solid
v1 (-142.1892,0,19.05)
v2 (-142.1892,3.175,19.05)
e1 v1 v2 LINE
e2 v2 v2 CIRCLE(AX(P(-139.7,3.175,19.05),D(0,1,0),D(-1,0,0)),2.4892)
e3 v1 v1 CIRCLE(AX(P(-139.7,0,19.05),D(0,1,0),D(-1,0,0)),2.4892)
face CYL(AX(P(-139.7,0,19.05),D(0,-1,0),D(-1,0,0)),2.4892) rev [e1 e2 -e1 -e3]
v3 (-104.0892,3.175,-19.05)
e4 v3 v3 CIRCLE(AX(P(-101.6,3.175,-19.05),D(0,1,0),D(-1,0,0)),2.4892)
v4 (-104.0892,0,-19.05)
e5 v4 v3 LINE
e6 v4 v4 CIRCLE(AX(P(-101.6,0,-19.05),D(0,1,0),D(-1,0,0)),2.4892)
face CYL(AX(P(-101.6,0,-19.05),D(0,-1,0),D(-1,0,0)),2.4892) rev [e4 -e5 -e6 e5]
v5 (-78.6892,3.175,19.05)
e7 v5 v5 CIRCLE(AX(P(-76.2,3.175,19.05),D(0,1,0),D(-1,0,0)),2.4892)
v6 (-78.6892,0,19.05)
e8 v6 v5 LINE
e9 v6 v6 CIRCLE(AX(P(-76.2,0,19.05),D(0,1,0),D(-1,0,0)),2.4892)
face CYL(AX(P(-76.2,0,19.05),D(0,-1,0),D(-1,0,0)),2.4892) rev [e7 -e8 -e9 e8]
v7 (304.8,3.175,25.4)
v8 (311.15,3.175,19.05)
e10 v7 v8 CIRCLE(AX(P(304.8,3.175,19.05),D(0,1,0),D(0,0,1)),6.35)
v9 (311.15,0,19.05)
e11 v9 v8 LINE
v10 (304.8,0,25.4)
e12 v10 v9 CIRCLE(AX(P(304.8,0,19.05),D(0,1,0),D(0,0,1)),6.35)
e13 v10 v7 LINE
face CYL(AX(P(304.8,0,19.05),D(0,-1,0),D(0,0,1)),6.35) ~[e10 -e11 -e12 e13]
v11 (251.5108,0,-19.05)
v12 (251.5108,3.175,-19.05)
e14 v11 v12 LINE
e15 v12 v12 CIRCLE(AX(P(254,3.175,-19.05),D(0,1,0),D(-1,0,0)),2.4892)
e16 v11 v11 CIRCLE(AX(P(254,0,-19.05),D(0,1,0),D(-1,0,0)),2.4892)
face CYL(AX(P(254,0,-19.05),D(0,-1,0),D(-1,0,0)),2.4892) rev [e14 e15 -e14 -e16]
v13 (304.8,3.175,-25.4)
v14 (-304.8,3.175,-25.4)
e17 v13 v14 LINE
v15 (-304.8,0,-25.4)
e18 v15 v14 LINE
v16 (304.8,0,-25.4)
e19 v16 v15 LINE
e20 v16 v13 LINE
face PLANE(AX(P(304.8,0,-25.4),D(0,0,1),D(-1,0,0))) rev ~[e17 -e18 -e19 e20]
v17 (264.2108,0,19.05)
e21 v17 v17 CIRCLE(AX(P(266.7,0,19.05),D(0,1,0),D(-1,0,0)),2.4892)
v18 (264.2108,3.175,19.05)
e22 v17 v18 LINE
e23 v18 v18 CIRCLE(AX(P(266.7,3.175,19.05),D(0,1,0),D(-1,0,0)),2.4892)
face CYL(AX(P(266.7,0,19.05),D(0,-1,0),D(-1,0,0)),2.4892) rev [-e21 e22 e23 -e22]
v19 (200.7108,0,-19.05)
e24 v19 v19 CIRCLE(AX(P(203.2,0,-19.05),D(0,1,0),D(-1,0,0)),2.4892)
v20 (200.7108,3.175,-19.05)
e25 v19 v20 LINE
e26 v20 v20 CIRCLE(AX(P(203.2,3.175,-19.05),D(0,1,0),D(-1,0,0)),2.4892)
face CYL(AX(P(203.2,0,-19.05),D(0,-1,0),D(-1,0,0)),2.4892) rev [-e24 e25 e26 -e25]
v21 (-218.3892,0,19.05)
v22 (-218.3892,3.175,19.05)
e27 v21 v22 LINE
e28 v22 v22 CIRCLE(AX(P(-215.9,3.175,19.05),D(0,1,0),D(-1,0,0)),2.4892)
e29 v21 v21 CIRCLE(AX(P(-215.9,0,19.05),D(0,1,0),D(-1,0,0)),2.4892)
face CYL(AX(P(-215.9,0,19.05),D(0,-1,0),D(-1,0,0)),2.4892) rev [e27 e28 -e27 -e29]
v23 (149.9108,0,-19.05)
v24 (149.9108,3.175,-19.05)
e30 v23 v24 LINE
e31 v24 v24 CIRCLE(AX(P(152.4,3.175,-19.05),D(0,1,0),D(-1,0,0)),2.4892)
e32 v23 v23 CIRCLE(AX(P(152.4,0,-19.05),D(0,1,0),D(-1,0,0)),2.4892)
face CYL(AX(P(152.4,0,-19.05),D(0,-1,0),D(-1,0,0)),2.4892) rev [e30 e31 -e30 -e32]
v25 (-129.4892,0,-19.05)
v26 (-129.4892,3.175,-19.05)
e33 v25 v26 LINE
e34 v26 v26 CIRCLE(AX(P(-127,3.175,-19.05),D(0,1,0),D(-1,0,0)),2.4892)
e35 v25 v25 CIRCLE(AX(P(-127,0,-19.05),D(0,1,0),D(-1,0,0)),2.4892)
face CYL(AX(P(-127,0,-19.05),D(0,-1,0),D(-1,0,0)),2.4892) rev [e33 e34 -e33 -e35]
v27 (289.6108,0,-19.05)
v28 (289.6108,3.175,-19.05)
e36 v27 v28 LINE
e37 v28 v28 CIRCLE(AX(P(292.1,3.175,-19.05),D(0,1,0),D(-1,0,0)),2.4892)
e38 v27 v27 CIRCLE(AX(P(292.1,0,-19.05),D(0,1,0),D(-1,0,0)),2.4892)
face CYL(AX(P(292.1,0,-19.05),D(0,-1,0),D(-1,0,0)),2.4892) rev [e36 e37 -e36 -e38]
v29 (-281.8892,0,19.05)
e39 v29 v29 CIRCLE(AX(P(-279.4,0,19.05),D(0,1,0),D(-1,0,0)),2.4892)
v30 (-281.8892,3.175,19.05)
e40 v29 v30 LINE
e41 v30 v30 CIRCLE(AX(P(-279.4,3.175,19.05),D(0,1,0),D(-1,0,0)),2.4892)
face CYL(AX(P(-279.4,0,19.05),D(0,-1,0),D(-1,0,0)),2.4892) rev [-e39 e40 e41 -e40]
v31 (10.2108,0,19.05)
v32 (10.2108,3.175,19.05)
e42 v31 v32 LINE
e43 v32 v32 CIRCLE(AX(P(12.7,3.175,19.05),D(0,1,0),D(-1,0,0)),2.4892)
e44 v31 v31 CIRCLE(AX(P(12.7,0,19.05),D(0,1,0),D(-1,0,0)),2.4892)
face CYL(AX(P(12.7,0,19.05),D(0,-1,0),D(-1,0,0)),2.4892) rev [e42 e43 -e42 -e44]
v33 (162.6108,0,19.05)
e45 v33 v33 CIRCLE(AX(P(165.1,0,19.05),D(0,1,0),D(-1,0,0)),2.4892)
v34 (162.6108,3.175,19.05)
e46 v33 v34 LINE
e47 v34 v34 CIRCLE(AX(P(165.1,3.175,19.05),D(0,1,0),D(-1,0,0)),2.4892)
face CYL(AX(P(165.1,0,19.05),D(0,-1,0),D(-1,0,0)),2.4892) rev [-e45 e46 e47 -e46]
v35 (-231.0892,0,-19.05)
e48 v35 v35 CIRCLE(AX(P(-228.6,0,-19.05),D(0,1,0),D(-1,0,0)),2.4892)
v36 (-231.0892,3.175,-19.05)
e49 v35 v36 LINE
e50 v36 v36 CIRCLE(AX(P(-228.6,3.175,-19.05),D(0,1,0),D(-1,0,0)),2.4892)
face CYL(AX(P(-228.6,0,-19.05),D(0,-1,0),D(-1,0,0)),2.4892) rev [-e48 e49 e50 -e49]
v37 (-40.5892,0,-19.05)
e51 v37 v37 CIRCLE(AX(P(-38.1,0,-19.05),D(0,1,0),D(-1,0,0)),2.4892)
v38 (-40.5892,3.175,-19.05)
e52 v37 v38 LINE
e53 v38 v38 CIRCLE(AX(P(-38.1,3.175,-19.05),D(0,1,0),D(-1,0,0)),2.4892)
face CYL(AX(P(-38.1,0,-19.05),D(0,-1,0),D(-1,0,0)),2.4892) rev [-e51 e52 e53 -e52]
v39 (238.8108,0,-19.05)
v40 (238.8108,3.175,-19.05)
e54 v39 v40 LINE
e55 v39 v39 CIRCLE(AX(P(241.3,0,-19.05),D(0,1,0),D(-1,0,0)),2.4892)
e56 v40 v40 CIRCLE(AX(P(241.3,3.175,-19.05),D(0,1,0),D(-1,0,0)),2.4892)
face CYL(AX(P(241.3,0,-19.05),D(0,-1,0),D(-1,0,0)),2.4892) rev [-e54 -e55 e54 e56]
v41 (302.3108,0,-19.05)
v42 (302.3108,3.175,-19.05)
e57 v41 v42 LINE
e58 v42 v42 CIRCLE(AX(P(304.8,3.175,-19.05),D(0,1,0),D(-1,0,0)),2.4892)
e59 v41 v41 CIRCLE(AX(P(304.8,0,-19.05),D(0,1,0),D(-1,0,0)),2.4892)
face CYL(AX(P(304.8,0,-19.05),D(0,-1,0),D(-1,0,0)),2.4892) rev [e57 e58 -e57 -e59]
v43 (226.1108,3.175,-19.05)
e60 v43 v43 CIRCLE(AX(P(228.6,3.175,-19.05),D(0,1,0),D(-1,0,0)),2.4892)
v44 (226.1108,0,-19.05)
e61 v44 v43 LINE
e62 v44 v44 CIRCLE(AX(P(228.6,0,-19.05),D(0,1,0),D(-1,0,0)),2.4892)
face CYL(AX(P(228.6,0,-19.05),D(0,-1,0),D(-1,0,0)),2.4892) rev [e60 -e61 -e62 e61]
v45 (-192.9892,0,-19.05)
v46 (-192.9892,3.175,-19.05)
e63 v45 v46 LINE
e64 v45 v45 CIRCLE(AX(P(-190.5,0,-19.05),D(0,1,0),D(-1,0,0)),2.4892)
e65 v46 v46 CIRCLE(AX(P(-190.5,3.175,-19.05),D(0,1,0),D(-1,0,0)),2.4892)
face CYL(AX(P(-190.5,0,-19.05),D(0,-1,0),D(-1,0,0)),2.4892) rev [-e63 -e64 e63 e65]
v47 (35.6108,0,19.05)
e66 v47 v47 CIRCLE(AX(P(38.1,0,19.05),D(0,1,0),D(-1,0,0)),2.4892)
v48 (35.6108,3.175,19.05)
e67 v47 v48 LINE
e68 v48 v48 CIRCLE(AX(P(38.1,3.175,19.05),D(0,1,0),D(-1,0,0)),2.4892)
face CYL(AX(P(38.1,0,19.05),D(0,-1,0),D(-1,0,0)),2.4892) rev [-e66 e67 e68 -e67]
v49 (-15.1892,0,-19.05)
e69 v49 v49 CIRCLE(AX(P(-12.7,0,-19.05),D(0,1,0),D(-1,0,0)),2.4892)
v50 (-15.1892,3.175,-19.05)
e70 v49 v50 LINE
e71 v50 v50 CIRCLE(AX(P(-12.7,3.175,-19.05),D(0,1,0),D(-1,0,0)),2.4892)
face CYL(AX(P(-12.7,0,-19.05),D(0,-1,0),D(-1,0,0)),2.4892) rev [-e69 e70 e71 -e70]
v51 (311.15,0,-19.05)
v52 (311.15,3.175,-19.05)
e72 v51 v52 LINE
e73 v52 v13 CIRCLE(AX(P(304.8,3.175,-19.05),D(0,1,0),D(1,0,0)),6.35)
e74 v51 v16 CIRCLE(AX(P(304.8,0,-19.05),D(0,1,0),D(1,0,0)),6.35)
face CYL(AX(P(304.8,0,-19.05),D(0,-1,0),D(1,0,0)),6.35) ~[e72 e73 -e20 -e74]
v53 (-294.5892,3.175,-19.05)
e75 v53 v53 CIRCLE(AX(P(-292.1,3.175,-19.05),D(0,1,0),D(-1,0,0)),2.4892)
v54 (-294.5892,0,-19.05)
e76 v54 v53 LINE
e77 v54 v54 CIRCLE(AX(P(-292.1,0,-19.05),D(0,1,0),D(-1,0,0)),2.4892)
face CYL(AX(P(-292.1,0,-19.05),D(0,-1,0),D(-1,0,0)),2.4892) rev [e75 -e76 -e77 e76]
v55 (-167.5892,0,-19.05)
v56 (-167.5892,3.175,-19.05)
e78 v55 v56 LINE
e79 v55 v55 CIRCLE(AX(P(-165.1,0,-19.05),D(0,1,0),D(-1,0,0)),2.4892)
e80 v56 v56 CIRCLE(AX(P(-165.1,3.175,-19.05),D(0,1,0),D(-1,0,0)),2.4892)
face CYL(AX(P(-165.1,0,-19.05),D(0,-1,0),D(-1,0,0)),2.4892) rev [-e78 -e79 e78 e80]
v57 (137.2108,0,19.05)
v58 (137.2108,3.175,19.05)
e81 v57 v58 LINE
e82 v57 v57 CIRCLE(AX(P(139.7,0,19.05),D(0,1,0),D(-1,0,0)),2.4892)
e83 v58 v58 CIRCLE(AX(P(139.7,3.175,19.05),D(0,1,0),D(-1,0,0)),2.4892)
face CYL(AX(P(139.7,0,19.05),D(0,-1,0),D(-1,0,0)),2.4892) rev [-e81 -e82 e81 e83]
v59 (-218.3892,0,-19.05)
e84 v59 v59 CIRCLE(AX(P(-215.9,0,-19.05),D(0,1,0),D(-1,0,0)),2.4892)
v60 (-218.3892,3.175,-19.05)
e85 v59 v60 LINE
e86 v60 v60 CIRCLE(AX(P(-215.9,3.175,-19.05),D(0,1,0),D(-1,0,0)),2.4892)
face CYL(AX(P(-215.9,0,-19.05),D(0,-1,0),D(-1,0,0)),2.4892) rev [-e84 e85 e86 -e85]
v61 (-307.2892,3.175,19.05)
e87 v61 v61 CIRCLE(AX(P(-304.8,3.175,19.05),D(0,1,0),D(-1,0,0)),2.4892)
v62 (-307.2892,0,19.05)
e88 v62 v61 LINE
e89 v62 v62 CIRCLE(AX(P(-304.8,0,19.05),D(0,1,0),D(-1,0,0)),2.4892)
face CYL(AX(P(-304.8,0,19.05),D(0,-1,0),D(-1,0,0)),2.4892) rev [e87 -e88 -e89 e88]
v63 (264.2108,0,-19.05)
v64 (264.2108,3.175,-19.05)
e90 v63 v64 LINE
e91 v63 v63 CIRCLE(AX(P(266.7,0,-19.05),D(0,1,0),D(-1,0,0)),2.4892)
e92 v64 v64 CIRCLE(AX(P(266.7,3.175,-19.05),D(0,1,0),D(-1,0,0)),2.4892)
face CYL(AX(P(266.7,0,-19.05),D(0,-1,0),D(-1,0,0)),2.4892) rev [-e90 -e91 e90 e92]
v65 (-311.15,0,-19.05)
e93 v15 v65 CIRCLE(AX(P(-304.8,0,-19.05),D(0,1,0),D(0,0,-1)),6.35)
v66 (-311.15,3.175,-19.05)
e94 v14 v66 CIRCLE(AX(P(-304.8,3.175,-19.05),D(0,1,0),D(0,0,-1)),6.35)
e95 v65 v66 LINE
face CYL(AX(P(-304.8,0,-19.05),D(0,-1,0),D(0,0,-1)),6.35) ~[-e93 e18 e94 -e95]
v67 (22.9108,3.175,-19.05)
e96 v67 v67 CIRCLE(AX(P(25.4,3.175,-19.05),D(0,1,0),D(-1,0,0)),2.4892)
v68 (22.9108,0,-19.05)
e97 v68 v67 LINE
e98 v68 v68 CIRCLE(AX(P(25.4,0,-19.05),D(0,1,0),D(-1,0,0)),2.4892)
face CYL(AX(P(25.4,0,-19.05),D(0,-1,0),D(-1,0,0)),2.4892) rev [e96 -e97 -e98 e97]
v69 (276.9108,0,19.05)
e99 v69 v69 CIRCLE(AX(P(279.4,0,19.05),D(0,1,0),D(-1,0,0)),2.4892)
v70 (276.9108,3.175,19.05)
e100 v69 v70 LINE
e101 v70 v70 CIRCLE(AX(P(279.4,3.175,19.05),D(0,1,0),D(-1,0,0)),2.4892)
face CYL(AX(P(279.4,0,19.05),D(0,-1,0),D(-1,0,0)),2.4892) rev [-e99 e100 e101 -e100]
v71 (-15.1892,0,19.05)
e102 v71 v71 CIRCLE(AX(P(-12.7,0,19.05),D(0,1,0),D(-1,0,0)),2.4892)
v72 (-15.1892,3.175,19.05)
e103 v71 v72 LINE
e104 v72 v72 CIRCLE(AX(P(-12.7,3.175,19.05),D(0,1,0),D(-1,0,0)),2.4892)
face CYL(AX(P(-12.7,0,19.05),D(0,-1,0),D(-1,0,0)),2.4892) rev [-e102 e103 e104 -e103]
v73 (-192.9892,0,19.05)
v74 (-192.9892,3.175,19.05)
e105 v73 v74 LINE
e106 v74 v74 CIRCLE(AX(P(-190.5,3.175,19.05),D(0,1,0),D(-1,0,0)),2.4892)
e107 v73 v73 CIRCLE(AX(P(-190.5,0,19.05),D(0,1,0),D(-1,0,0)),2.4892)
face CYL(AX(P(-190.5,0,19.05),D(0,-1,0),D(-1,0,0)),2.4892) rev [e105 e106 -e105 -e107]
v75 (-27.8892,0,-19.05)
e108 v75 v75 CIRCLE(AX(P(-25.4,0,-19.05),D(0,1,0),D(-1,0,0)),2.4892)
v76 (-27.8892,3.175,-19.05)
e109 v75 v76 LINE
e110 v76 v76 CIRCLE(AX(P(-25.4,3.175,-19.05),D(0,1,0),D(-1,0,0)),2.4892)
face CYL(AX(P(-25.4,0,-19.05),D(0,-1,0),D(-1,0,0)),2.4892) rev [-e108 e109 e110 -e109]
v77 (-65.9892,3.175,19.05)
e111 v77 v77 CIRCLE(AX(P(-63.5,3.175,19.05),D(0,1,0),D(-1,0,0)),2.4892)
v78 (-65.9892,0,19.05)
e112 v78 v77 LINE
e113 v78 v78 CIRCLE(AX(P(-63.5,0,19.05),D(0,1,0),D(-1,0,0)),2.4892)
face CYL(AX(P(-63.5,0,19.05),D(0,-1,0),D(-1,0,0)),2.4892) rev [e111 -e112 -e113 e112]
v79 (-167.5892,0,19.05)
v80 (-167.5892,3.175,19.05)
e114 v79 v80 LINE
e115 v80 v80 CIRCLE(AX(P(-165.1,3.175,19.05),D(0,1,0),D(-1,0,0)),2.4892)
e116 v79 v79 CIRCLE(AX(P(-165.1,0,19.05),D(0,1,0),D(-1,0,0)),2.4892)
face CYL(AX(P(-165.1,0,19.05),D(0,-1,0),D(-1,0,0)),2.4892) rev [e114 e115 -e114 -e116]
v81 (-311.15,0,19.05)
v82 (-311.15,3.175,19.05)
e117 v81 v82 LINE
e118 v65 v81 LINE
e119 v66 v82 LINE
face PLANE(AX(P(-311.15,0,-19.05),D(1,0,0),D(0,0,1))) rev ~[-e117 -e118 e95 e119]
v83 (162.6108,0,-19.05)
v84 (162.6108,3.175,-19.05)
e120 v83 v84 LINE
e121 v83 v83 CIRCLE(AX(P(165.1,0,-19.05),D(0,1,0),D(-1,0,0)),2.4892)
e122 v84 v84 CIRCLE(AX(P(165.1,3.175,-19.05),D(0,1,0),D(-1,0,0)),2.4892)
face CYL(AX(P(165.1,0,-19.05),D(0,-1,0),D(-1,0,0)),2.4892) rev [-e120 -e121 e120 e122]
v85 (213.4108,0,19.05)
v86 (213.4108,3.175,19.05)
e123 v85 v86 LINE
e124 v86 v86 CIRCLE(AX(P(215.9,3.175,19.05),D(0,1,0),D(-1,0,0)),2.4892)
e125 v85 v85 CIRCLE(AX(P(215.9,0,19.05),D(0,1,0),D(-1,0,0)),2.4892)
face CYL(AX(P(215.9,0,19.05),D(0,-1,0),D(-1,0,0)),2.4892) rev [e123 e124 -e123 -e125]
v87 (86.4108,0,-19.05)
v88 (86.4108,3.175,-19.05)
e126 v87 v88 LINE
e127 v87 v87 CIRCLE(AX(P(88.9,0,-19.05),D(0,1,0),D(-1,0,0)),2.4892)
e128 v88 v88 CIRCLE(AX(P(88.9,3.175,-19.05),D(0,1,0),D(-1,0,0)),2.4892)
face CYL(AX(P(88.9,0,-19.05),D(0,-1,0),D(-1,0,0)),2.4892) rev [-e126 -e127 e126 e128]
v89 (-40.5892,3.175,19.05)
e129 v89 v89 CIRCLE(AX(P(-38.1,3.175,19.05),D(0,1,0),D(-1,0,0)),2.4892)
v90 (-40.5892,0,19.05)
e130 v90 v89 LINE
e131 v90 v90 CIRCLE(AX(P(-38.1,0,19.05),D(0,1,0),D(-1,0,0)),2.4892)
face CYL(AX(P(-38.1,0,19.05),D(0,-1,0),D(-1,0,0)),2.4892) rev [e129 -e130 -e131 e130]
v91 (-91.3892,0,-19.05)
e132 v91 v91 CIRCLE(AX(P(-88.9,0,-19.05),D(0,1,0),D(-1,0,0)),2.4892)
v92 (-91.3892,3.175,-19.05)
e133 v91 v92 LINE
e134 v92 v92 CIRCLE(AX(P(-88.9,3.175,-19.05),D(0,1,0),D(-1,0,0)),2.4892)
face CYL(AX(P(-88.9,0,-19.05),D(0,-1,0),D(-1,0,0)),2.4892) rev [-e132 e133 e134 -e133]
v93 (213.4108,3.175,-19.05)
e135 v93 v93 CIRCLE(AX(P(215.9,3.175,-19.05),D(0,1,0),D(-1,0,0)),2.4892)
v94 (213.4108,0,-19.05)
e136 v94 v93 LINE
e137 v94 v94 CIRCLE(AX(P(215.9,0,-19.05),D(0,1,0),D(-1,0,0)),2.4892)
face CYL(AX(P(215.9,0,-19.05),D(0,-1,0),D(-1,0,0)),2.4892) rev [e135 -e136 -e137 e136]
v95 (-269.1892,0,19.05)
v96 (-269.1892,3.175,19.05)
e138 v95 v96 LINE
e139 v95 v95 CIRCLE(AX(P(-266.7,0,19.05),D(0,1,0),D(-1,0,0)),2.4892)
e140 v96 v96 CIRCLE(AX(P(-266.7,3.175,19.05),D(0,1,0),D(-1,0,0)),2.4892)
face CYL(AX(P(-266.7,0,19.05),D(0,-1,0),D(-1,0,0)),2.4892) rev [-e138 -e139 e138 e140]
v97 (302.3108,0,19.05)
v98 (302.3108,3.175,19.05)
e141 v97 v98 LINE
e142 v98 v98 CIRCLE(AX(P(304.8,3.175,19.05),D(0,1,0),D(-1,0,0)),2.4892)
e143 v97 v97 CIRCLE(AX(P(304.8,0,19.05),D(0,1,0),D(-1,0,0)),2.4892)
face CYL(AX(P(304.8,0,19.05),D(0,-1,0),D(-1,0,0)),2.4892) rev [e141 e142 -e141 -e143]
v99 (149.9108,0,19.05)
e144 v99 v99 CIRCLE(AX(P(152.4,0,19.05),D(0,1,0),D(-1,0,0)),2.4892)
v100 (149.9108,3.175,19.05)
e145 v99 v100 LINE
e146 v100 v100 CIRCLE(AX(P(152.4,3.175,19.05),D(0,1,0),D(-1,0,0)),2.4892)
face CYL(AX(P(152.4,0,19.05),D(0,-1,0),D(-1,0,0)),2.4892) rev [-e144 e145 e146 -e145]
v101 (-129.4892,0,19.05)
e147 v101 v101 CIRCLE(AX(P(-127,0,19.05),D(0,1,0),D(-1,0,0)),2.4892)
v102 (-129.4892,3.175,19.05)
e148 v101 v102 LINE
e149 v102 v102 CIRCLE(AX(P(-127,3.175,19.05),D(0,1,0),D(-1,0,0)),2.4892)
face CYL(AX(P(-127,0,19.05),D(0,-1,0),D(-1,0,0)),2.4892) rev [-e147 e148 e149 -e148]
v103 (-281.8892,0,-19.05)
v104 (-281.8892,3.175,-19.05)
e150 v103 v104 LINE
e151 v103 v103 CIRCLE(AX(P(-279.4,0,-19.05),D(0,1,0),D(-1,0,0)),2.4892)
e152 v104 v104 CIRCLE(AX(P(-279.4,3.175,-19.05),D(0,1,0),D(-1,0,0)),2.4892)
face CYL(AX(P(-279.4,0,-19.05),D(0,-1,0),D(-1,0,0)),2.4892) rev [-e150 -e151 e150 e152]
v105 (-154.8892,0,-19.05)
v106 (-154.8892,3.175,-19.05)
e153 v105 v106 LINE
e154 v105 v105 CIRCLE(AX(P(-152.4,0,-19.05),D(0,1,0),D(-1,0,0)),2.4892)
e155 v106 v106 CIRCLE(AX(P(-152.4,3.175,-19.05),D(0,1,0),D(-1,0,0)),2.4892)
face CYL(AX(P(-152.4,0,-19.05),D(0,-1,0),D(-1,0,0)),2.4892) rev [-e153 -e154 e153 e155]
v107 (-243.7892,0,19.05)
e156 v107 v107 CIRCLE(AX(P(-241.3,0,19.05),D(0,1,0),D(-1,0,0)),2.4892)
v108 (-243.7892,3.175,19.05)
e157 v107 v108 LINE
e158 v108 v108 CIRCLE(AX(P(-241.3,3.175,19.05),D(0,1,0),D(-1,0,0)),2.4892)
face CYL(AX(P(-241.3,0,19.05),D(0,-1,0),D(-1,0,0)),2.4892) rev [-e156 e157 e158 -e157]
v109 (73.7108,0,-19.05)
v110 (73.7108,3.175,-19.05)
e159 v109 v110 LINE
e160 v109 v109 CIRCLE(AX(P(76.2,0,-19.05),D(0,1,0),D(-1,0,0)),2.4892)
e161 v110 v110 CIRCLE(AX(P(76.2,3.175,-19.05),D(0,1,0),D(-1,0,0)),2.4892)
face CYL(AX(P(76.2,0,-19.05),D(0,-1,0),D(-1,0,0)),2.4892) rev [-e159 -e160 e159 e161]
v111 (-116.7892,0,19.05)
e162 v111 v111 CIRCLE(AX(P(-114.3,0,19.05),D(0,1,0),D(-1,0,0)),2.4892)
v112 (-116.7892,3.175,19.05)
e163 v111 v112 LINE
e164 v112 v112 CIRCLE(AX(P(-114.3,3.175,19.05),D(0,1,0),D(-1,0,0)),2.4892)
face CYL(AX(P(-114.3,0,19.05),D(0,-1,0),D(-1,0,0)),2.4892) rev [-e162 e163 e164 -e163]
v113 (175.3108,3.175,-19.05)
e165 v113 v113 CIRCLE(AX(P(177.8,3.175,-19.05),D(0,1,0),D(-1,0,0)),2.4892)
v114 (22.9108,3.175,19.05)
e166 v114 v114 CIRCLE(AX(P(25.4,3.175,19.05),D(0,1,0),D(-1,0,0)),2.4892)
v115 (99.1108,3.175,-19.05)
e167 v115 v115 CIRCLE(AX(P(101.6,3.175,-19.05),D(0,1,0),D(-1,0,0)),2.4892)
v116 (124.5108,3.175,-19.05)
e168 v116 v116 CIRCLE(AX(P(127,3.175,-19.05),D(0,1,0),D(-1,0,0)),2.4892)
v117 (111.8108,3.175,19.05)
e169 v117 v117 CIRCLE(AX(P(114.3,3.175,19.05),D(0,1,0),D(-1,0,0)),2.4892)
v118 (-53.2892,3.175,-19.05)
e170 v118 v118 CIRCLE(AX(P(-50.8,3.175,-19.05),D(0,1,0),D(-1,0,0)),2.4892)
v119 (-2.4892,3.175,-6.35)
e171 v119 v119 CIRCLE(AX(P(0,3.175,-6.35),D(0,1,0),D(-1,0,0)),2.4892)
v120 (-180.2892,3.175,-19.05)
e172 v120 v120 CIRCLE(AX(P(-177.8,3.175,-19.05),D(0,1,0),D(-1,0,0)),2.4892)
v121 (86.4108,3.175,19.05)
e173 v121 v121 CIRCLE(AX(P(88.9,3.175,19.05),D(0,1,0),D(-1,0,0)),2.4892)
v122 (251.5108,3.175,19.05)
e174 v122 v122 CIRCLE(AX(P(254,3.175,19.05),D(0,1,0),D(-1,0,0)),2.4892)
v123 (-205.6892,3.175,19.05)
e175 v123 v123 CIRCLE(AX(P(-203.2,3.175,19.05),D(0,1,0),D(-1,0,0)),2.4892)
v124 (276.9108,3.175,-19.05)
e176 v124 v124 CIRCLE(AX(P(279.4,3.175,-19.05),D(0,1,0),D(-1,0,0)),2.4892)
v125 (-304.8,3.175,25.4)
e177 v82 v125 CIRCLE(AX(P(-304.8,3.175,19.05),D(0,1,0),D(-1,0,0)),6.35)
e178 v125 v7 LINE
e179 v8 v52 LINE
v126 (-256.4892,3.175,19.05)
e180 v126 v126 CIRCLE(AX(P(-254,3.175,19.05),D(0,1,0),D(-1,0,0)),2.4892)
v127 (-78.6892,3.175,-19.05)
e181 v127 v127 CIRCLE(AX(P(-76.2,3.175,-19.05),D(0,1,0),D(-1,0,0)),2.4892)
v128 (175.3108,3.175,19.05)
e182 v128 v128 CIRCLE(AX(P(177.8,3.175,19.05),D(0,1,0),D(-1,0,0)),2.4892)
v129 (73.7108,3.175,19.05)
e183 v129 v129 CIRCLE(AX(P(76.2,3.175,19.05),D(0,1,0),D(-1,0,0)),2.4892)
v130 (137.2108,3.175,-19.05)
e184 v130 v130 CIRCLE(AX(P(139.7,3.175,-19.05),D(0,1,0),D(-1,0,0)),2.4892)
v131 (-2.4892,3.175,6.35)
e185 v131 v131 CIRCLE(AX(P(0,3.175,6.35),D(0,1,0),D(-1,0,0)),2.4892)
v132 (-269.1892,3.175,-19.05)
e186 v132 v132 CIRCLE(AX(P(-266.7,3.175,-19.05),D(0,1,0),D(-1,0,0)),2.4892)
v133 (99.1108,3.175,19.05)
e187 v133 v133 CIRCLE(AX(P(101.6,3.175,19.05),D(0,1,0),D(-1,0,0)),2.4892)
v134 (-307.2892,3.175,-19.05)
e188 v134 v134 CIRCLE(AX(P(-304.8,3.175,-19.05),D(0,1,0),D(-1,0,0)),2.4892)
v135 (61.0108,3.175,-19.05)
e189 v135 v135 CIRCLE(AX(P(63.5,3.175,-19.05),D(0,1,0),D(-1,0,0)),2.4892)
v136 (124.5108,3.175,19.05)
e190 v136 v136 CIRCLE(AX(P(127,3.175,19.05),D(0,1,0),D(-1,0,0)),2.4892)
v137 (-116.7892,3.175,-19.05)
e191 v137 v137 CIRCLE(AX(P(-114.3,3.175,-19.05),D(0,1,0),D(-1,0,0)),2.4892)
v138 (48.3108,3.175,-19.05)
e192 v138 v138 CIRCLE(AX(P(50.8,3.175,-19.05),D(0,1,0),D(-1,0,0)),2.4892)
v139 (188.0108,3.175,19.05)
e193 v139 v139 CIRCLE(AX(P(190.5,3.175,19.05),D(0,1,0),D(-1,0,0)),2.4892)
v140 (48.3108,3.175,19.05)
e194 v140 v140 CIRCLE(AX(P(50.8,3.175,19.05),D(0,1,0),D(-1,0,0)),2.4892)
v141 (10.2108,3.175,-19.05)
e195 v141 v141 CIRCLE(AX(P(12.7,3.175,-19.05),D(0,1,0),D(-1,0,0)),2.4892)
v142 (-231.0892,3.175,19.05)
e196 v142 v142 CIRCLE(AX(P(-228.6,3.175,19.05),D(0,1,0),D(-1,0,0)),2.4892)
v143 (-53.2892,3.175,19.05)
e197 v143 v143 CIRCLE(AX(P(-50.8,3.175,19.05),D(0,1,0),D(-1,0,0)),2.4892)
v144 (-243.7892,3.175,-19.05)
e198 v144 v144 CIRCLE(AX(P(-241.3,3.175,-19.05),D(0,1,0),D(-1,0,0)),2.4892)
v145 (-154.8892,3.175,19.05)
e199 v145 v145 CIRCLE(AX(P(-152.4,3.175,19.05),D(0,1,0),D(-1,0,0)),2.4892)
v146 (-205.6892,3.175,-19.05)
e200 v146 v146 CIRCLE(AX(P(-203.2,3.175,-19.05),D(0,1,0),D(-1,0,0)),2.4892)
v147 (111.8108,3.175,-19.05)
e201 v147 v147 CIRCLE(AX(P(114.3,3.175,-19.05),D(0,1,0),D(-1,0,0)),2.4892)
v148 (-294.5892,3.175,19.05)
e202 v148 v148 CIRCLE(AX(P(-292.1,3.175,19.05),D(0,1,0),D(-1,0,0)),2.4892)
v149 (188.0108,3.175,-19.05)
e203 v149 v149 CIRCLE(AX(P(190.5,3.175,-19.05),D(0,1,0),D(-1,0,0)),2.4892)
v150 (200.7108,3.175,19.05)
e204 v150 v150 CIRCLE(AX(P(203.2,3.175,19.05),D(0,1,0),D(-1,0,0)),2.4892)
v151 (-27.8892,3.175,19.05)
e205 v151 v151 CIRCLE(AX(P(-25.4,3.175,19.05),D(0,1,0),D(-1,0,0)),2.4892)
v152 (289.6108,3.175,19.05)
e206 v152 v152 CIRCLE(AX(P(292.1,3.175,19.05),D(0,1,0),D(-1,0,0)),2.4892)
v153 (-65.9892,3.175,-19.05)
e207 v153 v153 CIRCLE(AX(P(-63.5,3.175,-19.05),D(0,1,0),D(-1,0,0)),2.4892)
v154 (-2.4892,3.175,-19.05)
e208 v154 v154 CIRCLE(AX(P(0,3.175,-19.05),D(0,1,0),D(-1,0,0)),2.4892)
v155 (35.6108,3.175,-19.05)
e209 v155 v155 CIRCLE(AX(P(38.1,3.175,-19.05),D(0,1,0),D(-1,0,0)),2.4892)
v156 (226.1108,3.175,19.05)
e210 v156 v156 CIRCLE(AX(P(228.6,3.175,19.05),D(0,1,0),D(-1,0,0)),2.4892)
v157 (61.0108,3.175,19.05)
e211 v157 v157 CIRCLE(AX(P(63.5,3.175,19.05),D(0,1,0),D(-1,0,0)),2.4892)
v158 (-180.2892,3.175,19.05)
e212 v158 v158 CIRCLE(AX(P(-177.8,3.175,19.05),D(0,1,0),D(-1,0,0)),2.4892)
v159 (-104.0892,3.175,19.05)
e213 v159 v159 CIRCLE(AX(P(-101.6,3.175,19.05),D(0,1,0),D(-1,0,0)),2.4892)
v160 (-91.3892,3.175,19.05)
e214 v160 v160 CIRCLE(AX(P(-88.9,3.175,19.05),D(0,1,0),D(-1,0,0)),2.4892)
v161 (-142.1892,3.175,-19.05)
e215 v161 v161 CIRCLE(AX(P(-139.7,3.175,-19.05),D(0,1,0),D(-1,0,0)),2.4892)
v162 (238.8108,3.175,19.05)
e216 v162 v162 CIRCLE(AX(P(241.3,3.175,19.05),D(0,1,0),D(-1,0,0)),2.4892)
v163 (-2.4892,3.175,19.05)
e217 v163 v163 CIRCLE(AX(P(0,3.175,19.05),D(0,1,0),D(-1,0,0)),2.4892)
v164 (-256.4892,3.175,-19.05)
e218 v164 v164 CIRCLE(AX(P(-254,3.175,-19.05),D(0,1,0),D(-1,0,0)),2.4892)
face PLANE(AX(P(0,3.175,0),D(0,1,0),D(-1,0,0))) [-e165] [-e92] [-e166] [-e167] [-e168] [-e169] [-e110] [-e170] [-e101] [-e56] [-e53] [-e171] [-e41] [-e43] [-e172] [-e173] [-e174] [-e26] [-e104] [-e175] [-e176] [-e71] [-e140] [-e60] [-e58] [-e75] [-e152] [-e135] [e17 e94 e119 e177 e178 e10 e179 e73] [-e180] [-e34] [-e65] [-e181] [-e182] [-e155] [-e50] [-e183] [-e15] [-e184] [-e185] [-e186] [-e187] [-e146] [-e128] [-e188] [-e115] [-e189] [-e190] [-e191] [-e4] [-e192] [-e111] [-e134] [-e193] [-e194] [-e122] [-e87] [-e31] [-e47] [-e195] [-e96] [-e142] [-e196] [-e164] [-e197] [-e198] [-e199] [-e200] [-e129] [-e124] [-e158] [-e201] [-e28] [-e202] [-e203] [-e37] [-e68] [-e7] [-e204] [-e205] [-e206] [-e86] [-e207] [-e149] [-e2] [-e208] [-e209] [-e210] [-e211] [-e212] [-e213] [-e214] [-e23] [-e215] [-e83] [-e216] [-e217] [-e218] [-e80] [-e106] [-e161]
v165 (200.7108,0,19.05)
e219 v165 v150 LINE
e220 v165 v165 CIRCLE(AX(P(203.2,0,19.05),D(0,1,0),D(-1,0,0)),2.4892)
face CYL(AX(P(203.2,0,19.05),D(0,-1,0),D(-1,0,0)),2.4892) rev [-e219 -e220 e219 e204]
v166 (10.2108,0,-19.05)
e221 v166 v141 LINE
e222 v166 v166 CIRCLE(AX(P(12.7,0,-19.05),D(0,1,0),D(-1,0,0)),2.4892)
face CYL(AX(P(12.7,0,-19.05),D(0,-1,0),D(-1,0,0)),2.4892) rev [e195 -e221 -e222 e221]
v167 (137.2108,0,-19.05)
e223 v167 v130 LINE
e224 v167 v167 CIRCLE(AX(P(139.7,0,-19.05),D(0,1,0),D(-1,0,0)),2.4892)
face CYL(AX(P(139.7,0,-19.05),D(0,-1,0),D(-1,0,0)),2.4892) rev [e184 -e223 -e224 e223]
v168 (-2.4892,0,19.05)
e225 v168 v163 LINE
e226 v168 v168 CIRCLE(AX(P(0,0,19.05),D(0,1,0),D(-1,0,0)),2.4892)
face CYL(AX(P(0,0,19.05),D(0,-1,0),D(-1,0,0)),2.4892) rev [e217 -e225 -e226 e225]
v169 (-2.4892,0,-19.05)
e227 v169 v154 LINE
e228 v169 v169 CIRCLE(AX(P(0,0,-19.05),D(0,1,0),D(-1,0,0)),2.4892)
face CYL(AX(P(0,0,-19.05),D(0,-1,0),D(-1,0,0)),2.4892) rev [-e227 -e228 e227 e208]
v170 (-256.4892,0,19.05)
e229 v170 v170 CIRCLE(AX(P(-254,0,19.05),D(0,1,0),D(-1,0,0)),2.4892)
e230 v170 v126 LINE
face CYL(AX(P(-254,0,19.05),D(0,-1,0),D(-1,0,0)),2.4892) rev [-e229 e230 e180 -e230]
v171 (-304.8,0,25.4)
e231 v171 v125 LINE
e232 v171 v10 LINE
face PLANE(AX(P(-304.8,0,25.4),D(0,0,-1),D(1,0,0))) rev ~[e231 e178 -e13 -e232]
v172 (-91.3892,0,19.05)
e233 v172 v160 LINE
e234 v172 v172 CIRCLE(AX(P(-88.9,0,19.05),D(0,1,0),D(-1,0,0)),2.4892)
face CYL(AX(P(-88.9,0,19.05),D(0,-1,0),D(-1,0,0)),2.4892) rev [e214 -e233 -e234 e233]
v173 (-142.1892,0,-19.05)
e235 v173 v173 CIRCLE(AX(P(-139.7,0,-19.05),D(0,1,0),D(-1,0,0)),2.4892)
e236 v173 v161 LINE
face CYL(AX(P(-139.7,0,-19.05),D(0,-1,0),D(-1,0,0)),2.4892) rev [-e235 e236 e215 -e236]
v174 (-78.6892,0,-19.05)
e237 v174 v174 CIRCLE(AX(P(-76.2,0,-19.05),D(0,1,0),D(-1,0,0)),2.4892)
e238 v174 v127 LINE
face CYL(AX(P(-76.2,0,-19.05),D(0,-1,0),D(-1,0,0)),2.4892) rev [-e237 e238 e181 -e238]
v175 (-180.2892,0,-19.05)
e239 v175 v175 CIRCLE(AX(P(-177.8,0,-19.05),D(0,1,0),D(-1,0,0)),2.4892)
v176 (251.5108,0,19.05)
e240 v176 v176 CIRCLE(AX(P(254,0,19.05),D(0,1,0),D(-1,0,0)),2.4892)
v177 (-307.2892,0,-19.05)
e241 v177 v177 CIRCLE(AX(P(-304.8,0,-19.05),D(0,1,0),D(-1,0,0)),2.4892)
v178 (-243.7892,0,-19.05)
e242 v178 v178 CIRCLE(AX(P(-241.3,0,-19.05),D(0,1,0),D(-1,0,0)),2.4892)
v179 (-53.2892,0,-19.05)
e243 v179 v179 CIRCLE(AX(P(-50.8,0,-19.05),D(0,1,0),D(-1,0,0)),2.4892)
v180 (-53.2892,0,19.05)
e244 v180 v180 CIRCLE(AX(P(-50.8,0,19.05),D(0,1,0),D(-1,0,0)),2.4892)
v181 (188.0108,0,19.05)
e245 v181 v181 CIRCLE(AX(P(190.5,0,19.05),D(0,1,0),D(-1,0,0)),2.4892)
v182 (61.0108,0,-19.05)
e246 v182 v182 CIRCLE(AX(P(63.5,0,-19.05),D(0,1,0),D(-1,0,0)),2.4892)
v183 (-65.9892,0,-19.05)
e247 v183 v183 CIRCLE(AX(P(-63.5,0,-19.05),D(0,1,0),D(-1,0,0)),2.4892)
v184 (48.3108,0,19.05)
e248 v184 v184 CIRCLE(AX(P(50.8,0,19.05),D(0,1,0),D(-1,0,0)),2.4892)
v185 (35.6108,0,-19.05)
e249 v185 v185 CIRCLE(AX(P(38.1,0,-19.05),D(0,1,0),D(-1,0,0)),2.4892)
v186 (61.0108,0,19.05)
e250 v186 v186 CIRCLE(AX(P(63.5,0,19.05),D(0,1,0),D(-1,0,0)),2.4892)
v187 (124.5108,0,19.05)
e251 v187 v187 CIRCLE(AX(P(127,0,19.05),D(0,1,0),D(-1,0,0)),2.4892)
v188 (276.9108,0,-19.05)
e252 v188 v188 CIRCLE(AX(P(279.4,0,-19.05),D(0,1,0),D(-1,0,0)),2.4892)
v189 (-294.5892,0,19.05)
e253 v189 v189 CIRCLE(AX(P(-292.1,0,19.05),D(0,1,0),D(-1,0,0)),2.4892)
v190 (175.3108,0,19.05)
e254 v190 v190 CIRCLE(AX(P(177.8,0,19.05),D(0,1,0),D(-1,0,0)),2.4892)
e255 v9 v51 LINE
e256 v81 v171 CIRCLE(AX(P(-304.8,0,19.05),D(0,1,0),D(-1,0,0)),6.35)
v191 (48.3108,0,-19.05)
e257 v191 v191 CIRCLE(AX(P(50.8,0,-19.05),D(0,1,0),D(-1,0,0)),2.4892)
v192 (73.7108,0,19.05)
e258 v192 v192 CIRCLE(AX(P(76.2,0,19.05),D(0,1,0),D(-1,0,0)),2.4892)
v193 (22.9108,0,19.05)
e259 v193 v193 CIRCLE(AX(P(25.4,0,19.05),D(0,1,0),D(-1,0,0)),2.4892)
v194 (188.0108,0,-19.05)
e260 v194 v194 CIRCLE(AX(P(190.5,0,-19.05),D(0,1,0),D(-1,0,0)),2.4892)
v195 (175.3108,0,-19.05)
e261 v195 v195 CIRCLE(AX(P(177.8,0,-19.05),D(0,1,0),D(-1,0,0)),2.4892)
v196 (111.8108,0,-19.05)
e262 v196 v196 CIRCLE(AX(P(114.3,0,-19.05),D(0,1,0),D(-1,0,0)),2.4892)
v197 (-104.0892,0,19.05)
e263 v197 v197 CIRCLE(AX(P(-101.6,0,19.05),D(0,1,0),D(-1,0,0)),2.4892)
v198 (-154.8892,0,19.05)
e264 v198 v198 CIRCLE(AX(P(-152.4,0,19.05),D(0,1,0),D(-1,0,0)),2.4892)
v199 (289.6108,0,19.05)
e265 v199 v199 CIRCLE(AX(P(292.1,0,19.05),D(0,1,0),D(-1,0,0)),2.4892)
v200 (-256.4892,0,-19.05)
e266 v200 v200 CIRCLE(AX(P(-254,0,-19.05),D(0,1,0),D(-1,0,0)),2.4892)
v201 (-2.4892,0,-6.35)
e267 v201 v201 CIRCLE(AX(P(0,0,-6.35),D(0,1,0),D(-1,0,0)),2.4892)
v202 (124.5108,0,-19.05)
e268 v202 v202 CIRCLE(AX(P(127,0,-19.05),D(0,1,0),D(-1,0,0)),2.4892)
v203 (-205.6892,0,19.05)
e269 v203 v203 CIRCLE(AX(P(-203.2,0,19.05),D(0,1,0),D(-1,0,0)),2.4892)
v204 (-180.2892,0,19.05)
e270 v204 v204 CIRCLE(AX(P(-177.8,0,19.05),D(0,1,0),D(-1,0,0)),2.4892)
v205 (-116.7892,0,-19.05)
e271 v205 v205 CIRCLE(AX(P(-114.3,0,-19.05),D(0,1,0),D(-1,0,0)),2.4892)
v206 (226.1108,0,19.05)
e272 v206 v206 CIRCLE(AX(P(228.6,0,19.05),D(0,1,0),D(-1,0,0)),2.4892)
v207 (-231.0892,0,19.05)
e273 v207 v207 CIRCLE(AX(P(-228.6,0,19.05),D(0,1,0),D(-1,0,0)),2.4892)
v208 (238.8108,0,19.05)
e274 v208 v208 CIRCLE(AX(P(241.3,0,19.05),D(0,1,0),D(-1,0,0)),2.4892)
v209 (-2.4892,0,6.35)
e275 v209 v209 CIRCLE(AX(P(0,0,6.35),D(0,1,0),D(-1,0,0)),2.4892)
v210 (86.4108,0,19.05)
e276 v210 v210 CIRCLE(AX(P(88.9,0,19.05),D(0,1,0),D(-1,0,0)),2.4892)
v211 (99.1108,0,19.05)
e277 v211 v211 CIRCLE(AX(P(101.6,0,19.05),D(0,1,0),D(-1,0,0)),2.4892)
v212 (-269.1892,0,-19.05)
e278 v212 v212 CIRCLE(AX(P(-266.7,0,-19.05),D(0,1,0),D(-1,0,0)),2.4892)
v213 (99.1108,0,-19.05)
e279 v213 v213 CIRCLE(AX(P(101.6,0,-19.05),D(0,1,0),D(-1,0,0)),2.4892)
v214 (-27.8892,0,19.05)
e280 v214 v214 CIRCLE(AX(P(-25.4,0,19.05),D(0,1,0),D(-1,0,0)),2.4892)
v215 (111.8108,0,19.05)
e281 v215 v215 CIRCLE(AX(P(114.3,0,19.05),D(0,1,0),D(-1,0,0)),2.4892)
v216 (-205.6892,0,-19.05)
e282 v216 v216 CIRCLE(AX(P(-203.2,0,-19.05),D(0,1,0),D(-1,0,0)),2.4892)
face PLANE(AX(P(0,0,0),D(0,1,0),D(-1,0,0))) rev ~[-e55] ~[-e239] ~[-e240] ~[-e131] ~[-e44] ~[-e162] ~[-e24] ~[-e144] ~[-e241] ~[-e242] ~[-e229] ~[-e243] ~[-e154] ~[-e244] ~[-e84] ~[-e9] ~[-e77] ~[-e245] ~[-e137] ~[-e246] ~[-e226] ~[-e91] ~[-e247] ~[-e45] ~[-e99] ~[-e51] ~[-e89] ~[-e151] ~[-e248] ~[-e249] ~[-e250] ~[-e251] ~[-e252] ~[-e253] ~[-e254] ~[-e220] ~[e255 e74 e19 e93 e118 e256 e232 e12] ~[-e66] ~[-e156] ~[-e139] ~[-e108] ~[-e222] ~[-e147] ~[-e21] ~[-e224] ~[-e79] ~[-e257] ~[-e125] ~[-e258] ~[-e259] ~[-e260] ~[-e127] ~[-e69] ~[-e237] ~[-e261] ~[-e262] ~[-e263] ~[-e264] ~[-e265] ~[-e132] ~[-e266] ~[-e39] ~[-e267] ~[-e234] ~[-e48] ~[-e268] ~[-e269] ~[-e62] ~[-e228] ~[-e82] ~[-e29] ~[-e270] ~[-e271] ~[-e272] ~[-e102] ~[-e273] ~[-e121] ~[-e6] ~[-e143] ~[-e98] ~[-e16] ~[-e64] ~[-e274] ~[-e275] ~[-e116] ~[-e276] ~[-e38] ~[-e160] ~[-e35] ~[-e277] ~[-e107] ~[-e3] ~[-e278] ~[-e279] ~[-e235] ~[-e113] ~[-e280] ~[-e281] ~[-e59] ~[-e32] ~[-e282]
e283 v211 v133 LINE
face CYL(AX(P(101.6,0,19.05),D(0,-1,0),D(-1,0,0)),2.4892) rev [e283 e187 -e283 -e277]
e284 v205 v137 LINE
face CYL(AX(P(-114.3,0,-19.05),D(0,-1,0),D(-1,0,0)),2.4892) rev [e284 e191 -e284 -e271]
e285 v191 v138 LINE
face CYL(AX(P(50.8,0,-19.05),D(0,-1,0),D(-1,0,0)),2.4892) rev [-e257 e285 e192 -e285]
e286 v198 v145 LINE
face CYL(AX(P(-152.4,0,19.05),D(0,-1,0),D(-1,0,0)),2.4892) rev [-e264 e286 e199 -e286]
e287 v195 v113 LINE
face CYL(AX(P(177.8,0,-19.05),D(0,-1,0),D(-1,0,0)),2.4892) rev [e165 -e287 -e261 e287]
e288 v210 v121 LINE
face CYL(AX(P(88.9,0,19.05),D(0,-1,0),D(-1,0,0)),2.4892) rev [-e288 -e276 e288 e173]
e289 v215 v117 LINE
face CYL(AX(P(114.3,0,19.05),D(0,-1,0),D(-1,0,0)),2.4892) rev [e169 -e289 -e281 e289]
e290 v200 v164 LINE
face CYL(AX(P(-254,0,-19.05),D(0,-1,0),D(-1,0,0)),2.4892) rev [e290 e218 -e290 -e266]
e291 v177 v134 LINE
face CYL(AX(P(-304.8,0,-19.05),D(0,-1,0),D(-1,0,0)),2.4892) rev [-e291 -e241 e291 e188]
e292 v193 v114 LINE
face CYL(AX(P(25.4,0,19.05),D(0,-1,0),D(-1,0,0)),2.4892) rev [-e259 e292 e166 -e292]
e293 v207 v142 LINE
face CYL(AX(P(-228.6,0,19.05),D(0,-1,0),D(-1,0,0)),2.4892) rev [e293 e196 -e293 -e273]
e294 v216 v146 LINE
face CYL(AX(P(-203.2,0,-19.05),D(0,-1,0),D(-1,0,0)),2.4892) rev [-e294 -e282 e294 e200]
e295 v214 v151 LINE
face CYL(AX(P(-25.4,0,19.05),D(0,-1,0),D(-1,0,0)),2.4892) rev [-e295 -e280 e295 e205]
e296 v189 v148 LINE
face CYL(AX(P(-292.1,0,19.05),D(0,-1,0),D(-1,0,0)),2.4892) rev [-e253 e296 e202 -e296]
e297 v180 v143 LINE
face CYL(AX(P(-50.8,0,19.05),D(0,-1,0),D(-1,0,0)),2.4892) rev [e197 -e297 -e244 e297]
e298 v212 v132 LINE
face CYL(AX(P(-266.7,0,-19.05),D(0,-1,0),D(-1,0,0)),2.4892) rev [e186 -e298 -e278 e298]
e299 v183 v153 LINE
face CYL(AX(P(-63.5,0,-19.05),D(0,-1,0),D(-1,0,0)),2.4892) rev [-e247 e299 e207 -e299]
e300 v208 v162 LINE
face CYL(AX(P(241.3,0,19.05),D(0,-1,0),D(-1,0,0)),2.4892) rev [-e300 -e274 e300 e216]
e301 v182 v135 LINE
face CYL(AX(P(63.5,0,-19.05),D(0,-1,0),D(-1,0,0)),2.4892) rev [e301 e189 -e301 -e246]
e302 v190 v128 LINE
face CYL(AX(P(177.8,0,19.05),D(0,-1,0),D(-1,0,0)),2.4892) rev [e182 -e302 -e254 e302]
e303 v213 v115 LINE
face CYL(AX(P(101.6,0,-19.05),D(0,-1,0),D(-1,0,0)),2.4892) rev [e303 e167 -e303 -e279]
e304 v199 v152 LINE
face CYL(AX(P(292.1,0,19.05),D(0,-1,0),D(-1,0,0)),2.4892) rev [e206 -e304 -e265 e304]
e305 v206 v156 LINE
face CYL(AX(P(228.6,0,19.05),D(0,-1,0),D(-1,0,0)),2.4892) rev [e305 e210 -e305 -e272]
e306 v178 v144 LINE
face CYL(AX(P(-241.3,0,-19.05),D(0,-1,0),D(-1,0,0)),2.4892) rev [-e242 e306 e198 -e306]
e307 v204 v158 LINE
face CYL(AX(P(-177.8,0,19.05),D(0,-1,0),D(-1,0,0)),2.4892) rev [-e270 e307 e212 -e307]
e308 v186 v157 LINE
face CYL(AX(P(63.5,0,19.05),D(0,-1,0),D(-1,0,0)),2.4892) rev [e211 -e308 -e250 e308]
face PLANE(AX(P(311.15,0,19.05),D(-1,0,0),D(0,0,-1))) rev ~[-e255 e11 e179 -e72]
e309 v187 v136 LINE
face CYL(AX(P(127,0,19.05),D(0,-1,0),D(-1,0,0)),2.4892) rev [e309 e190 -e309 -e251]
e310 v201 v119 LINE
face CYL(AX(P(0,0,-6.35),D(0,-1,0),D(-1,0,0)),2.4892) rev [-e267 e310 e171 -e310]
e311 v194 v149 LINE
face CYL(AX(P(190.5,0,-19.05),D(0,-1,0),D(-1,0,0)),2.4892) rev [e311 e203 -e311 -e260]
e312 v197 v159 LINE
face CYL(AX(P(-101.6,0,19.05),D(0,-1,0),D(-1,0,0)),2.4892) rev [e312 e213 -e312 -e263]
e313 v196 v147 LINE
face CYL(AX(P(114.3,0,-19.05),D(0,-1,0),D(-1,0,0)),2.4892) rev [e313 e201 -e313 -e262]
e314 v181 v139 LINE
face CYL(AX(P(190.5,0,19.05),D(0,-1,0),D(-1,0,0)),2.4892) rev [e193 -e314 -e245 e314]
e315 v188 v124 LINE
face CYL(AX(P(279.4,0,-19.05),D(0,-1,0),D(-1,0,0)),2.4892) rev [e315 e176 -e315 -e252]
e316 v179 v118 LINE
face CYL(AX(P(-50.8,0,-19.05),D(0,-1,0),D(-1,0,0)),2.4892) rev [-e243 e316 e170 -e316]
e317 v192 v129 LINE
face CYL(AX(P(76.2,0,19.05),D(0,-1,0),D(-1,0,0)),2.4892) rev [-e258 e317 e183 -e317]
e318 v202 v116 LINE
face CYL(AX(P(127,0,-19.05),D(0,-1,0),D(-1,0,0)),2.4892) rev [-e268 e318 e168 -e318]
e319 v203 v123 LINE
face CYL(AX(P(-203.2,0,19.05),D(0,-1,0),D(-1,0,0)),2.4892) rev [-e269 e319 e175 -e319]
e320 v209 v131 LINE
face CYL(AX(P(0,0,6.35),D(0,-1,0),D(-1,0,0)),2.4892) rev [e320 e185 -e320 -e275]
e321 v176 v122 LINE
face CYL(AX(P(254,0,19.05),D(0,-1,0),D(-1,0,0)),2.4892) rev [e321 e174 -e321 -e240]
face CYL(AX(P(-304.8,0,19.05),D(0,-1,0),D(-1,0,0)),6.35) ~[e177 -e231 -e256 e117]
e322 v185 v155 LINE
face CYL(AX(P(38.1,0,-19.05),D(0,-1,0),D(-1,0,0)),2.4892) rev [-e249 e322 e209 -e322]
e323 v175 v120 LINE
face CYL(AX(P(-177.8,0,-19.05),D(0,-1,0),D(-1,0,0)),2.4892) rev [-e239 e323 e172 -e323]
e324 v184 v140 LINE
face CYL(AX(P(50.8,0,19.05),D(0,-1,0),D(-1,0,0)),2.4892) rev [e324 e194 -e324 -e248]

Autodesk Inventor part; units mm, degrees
ref_plane "YZ Plane" through (0, 0, 0) normal (1, 0, 0) x (0, 1, 0)
ref_plane "XZ Plane" through (0, 0, 0) normal (0, 1, 0) x (-1, 0, 0)
ref_plane "XY Plane" through (0, 0, 0) normal (0, 0, 1) x (1, 0, 0)
sketch "Sketch1" plane through (0, 0, 0) normal (0, 1, 0) x (-1, 0, 0)
  line L0 (-304.8, -25.4) -> (304.8, -25.4)
  line L1 (311.15, -19.05) -> (311.15, 19.05)
  line L2 (304.8, 25.4) -> (-304.8, 25.4)
  line L3 (-311.15, 19.05) -> (-311.15, -19.05)
  line L4 (-311.15, -25.4) -> (311.15, 25.4) construction
  line L5 (311.15, -25.4) -> (-311.15, 25.4) construction
  arc A0 (304.8, -25.4) -> (311.15, -19.05) centre (304.8, -19.05) ccw
  arc A1 (311.15, 19.05) -> (304.8, 25.4) centre (304.8, 19.05) ccw
  arc A2 (-311.15, -19.05) -> (-304.8, -25.4) centre (-304.8, -19.05) ccw
  arc A3 (-304.8, 25.4) -> (-311.15, 19.05) centre (-304.8, 19.05) ccw
  circle A4 centre (304.8, -19.05) radius 2.4892
  circle A5 centre (292.1, -19.05) radius 2.4892
  circle A6 centre (279.4, -19.05) radius 2.4892
  circle A7 centre (266.7, -19.05) radius 2.4892
  circle A8 centre (254, -19.05) radius 2.4892
  circle A9 centre (241.3, -19.05) radius 2.4892
  circle A10 centre (228.6, -19.05) radius 2.4892
  circle A11 centre (215.9, -19.05) radius 2.4892
  circle A12 centre (203.2, -19.05) radius 2.4892
  circle A13 centre (190.5, -19.05) radius 2.4892
  circle A14 centre (177.8, -19.05) radius 2.4892
  circle A15 centre (165.1, -19.05) radius 2.4892
  circle A16 centre (152.4, -19.05) radius 2.4892
  circle A17 centre (139.7, -19.05) radius 2.4892
  circle A18 centre (127, -19.05) radius 2.4892
  circle A19 centre (114.3, -19.05) radius 2.4892
  circle A20 centre (101.6, -19.05) radius 2.4892
  circle A21 centre (88.9, -19.05) radius 2.4892
  circle A22 centre (76.2, -19.05) radius 2.4892
  circle A23 centre (63.5, -19.05) radius 2.4892
  circle A24 centre (50.8, -19.05) radius 2.4892
  circle A25 centre (38.1, -19.05) radius 2.4892
  circle A26 centre (25.4, -19.05) radius 2.4892
  circle A27 centre (12.7, -19.05) radius 2.4892
  circle A28 centre (0, -19.05) radius 2.4892
  circle A29 centre (-12.7, -19.05) radius 2.4892
  circle A30 centre (-25.4, -19.05) radius 2.4892
  circle A31 centre (-38.1, -19.05) radius 2.4892
  circle A32 centre (-50.8, -19.05) radius 2.4892
  circle A33 centre (-63.5, -19.05) radius 2.4892
  circle A34 centre (-76.2, -19.05) radius 2.4892
  circle A35 centre (-88.9, -19.05) radius 2.4892
  circle A36 centre (-101.6, -19.05) radius 2.4892
  circle A37 centre (-114.3, -19.05) radius 2.4892
  circle A38 centre (-127, -19.05) radius 2.4892
  circle A39 centre (-139.7, -19.05) radius 2.4892
  circle A40 centre (-152.4, -19.05) radius 2.4892
  circle A41 centre (-165.1, -19.05) radius 2.4892
  circle A42 centre (-177.8, -19.05) radius 2.4892
  circle A43 centre (-190.5, -19.05) radius 2.4892
  circle A44 centre (-203.2, -19.05) radius 2.4892
  circle A45 centre (-215.9, -19.05) radius 2.4892
  circle A46 centre (-228.6, -19.05) radius 2.4892
  circle A47 centre (-241.3, -19.05) radius 2.4892
  circle A48 centre (-254, -19.05) radius 2.4892
  circle A49 centre (-266.7, -19.05) radius 2.4892
  circle A50 centre (-279.4, -19.05) radius 2.4892
  circle A51 centre (304.8, 19.05) radius 2.4892
  circle A52 centre (292.1, 19.05) radius 2.4892
  circle A53 centre (279.4, 19.05) radius 2.4892
  circle A54 centre (266.7, 19.05) radius 2.4892
  circle A55 centre (254, 19.05) radius 2.4892
  circle A56 centre (241.3, 19.05) radius 2.4892
  circle A57 centre (228.6, 19.05) radius 2.4892
  circle A58 centre (215.9, 19.05) radius 2.4892
  circle A59 centre (203.2, 19.05) radius 2.4892
  circle A60 centre (190.5, 19.05) radius 2.4892
  circle A61 centre (177.8, 19.05) radius 2.4892
  circle A62 centre (165.1, 19.05) radius 2.4892
  circle A63 centre (152.4, 19.05) radius 2.4892
  circle A64 centre (139.7, 19.05) radius 2.4892
  circle A65 centre (127, 19.05) radius 2.4892
  circle A66 centre (114.3, 19.05) radius 2.4892
  circle A67 centre (101.6, 19.05) radius 2.4892
  circle A68 centre (88.9, 19.05) radius 2.4892
  circle A69 centre (76.2, 19.05) radius 2.4892
  circle A70 centre (63.5, 19.05) radius 2.4892
  circle A71 centre (50.8, 19.05) radius 2.4892
  circle A72 centre (38.1, 19.05) radius 2.4892
  circle A73 centre (25.4, 19.05) radius 2.4892
  circle A74 centre (12.7, 19.05) radius 2.4892
  circle A75 centre (0, 19.05) radius 2.4892
  circle A76 centre (-12.7, 19.05) radius 2.4892
  circle A77 centre (-25.4, 19.05) radius 2.4892
  circle A78 centre (-38.1, 19.05) radius 2.4892
  circle A79 centre (-50.8, 19.05) radius 2.4892
  circle A80 centre (-63.5, 19.05) radius 2.4892
  circle A81 centre (-76.2, 19.05) radius 2.4892
  circle A82 centre (-88.9, 19.05) radius 2.4892
  circle A83 centre (-101.6, 19.05) radius 2.4892
  circle A84 centre (-114.3, 19.05) radius 2.4892
  circle A85 centre (-127, 19.05) radius 2.4892
  circle A86 centre (-139.7, 19.05) radius 2.4892
  circle A87 centre (-152.4, 19.05) radius 2.4892
  circle A88 centre (-165.1, 19.05) radius 2.4892
  circle A89 centre (-177.8, 19.05) radius 2.4892
  circle A90 centre (-190.5, 19.05) radius 2.4892
  circle A91 centre (-203.2, 19.05) radius 2.4892
  circle A92 centre (-215.9, 19.05) radius 2.4892
  circle A93 centre (-228.6, 19.05) radius 2.4892
  circle A94 centre (-241.3, 19.05) radius 2.4892
  circle A95 centre (-254, 19.05) radius 2.4892
  circle A96 centre (-266.7, 19.05) radius 2.4892
  circle A97 centre (-279.4, 19.05) radius 2.4892
  circle A98 centre (-292.1, -19.05) radius 2.4892
  circle A99 centre (-292.1, 19.05) radius 2.4892
  circle A100 centre (-304.8, -19.05) radius 2.4892
  circle A101 centre (-304.8, 19.05) radius 2.4892
  circle A102 centre (0, -6.35) radius 2.4892
  circle A103 centre (0, 6.35) radius 2.4892
  circle A104 centre (0, 19.05) radius 2.4892
  point P0 (0, 0)
  dimension "d0" = 622.3
  dimension "d1" = 50.8
  dimension "d2" = 6.35
  dimension "d5" = 12.7
  dimension "d8" = 38.1
  dimension "d13" = 12.7
  dimension "d18" = 4.9784
extrude "Extrusion1" add sketch "Sketch1" along normal blind 3.175
properties part number "GreyT Claw Wide Plate V2" material "Aluminum 6061"
